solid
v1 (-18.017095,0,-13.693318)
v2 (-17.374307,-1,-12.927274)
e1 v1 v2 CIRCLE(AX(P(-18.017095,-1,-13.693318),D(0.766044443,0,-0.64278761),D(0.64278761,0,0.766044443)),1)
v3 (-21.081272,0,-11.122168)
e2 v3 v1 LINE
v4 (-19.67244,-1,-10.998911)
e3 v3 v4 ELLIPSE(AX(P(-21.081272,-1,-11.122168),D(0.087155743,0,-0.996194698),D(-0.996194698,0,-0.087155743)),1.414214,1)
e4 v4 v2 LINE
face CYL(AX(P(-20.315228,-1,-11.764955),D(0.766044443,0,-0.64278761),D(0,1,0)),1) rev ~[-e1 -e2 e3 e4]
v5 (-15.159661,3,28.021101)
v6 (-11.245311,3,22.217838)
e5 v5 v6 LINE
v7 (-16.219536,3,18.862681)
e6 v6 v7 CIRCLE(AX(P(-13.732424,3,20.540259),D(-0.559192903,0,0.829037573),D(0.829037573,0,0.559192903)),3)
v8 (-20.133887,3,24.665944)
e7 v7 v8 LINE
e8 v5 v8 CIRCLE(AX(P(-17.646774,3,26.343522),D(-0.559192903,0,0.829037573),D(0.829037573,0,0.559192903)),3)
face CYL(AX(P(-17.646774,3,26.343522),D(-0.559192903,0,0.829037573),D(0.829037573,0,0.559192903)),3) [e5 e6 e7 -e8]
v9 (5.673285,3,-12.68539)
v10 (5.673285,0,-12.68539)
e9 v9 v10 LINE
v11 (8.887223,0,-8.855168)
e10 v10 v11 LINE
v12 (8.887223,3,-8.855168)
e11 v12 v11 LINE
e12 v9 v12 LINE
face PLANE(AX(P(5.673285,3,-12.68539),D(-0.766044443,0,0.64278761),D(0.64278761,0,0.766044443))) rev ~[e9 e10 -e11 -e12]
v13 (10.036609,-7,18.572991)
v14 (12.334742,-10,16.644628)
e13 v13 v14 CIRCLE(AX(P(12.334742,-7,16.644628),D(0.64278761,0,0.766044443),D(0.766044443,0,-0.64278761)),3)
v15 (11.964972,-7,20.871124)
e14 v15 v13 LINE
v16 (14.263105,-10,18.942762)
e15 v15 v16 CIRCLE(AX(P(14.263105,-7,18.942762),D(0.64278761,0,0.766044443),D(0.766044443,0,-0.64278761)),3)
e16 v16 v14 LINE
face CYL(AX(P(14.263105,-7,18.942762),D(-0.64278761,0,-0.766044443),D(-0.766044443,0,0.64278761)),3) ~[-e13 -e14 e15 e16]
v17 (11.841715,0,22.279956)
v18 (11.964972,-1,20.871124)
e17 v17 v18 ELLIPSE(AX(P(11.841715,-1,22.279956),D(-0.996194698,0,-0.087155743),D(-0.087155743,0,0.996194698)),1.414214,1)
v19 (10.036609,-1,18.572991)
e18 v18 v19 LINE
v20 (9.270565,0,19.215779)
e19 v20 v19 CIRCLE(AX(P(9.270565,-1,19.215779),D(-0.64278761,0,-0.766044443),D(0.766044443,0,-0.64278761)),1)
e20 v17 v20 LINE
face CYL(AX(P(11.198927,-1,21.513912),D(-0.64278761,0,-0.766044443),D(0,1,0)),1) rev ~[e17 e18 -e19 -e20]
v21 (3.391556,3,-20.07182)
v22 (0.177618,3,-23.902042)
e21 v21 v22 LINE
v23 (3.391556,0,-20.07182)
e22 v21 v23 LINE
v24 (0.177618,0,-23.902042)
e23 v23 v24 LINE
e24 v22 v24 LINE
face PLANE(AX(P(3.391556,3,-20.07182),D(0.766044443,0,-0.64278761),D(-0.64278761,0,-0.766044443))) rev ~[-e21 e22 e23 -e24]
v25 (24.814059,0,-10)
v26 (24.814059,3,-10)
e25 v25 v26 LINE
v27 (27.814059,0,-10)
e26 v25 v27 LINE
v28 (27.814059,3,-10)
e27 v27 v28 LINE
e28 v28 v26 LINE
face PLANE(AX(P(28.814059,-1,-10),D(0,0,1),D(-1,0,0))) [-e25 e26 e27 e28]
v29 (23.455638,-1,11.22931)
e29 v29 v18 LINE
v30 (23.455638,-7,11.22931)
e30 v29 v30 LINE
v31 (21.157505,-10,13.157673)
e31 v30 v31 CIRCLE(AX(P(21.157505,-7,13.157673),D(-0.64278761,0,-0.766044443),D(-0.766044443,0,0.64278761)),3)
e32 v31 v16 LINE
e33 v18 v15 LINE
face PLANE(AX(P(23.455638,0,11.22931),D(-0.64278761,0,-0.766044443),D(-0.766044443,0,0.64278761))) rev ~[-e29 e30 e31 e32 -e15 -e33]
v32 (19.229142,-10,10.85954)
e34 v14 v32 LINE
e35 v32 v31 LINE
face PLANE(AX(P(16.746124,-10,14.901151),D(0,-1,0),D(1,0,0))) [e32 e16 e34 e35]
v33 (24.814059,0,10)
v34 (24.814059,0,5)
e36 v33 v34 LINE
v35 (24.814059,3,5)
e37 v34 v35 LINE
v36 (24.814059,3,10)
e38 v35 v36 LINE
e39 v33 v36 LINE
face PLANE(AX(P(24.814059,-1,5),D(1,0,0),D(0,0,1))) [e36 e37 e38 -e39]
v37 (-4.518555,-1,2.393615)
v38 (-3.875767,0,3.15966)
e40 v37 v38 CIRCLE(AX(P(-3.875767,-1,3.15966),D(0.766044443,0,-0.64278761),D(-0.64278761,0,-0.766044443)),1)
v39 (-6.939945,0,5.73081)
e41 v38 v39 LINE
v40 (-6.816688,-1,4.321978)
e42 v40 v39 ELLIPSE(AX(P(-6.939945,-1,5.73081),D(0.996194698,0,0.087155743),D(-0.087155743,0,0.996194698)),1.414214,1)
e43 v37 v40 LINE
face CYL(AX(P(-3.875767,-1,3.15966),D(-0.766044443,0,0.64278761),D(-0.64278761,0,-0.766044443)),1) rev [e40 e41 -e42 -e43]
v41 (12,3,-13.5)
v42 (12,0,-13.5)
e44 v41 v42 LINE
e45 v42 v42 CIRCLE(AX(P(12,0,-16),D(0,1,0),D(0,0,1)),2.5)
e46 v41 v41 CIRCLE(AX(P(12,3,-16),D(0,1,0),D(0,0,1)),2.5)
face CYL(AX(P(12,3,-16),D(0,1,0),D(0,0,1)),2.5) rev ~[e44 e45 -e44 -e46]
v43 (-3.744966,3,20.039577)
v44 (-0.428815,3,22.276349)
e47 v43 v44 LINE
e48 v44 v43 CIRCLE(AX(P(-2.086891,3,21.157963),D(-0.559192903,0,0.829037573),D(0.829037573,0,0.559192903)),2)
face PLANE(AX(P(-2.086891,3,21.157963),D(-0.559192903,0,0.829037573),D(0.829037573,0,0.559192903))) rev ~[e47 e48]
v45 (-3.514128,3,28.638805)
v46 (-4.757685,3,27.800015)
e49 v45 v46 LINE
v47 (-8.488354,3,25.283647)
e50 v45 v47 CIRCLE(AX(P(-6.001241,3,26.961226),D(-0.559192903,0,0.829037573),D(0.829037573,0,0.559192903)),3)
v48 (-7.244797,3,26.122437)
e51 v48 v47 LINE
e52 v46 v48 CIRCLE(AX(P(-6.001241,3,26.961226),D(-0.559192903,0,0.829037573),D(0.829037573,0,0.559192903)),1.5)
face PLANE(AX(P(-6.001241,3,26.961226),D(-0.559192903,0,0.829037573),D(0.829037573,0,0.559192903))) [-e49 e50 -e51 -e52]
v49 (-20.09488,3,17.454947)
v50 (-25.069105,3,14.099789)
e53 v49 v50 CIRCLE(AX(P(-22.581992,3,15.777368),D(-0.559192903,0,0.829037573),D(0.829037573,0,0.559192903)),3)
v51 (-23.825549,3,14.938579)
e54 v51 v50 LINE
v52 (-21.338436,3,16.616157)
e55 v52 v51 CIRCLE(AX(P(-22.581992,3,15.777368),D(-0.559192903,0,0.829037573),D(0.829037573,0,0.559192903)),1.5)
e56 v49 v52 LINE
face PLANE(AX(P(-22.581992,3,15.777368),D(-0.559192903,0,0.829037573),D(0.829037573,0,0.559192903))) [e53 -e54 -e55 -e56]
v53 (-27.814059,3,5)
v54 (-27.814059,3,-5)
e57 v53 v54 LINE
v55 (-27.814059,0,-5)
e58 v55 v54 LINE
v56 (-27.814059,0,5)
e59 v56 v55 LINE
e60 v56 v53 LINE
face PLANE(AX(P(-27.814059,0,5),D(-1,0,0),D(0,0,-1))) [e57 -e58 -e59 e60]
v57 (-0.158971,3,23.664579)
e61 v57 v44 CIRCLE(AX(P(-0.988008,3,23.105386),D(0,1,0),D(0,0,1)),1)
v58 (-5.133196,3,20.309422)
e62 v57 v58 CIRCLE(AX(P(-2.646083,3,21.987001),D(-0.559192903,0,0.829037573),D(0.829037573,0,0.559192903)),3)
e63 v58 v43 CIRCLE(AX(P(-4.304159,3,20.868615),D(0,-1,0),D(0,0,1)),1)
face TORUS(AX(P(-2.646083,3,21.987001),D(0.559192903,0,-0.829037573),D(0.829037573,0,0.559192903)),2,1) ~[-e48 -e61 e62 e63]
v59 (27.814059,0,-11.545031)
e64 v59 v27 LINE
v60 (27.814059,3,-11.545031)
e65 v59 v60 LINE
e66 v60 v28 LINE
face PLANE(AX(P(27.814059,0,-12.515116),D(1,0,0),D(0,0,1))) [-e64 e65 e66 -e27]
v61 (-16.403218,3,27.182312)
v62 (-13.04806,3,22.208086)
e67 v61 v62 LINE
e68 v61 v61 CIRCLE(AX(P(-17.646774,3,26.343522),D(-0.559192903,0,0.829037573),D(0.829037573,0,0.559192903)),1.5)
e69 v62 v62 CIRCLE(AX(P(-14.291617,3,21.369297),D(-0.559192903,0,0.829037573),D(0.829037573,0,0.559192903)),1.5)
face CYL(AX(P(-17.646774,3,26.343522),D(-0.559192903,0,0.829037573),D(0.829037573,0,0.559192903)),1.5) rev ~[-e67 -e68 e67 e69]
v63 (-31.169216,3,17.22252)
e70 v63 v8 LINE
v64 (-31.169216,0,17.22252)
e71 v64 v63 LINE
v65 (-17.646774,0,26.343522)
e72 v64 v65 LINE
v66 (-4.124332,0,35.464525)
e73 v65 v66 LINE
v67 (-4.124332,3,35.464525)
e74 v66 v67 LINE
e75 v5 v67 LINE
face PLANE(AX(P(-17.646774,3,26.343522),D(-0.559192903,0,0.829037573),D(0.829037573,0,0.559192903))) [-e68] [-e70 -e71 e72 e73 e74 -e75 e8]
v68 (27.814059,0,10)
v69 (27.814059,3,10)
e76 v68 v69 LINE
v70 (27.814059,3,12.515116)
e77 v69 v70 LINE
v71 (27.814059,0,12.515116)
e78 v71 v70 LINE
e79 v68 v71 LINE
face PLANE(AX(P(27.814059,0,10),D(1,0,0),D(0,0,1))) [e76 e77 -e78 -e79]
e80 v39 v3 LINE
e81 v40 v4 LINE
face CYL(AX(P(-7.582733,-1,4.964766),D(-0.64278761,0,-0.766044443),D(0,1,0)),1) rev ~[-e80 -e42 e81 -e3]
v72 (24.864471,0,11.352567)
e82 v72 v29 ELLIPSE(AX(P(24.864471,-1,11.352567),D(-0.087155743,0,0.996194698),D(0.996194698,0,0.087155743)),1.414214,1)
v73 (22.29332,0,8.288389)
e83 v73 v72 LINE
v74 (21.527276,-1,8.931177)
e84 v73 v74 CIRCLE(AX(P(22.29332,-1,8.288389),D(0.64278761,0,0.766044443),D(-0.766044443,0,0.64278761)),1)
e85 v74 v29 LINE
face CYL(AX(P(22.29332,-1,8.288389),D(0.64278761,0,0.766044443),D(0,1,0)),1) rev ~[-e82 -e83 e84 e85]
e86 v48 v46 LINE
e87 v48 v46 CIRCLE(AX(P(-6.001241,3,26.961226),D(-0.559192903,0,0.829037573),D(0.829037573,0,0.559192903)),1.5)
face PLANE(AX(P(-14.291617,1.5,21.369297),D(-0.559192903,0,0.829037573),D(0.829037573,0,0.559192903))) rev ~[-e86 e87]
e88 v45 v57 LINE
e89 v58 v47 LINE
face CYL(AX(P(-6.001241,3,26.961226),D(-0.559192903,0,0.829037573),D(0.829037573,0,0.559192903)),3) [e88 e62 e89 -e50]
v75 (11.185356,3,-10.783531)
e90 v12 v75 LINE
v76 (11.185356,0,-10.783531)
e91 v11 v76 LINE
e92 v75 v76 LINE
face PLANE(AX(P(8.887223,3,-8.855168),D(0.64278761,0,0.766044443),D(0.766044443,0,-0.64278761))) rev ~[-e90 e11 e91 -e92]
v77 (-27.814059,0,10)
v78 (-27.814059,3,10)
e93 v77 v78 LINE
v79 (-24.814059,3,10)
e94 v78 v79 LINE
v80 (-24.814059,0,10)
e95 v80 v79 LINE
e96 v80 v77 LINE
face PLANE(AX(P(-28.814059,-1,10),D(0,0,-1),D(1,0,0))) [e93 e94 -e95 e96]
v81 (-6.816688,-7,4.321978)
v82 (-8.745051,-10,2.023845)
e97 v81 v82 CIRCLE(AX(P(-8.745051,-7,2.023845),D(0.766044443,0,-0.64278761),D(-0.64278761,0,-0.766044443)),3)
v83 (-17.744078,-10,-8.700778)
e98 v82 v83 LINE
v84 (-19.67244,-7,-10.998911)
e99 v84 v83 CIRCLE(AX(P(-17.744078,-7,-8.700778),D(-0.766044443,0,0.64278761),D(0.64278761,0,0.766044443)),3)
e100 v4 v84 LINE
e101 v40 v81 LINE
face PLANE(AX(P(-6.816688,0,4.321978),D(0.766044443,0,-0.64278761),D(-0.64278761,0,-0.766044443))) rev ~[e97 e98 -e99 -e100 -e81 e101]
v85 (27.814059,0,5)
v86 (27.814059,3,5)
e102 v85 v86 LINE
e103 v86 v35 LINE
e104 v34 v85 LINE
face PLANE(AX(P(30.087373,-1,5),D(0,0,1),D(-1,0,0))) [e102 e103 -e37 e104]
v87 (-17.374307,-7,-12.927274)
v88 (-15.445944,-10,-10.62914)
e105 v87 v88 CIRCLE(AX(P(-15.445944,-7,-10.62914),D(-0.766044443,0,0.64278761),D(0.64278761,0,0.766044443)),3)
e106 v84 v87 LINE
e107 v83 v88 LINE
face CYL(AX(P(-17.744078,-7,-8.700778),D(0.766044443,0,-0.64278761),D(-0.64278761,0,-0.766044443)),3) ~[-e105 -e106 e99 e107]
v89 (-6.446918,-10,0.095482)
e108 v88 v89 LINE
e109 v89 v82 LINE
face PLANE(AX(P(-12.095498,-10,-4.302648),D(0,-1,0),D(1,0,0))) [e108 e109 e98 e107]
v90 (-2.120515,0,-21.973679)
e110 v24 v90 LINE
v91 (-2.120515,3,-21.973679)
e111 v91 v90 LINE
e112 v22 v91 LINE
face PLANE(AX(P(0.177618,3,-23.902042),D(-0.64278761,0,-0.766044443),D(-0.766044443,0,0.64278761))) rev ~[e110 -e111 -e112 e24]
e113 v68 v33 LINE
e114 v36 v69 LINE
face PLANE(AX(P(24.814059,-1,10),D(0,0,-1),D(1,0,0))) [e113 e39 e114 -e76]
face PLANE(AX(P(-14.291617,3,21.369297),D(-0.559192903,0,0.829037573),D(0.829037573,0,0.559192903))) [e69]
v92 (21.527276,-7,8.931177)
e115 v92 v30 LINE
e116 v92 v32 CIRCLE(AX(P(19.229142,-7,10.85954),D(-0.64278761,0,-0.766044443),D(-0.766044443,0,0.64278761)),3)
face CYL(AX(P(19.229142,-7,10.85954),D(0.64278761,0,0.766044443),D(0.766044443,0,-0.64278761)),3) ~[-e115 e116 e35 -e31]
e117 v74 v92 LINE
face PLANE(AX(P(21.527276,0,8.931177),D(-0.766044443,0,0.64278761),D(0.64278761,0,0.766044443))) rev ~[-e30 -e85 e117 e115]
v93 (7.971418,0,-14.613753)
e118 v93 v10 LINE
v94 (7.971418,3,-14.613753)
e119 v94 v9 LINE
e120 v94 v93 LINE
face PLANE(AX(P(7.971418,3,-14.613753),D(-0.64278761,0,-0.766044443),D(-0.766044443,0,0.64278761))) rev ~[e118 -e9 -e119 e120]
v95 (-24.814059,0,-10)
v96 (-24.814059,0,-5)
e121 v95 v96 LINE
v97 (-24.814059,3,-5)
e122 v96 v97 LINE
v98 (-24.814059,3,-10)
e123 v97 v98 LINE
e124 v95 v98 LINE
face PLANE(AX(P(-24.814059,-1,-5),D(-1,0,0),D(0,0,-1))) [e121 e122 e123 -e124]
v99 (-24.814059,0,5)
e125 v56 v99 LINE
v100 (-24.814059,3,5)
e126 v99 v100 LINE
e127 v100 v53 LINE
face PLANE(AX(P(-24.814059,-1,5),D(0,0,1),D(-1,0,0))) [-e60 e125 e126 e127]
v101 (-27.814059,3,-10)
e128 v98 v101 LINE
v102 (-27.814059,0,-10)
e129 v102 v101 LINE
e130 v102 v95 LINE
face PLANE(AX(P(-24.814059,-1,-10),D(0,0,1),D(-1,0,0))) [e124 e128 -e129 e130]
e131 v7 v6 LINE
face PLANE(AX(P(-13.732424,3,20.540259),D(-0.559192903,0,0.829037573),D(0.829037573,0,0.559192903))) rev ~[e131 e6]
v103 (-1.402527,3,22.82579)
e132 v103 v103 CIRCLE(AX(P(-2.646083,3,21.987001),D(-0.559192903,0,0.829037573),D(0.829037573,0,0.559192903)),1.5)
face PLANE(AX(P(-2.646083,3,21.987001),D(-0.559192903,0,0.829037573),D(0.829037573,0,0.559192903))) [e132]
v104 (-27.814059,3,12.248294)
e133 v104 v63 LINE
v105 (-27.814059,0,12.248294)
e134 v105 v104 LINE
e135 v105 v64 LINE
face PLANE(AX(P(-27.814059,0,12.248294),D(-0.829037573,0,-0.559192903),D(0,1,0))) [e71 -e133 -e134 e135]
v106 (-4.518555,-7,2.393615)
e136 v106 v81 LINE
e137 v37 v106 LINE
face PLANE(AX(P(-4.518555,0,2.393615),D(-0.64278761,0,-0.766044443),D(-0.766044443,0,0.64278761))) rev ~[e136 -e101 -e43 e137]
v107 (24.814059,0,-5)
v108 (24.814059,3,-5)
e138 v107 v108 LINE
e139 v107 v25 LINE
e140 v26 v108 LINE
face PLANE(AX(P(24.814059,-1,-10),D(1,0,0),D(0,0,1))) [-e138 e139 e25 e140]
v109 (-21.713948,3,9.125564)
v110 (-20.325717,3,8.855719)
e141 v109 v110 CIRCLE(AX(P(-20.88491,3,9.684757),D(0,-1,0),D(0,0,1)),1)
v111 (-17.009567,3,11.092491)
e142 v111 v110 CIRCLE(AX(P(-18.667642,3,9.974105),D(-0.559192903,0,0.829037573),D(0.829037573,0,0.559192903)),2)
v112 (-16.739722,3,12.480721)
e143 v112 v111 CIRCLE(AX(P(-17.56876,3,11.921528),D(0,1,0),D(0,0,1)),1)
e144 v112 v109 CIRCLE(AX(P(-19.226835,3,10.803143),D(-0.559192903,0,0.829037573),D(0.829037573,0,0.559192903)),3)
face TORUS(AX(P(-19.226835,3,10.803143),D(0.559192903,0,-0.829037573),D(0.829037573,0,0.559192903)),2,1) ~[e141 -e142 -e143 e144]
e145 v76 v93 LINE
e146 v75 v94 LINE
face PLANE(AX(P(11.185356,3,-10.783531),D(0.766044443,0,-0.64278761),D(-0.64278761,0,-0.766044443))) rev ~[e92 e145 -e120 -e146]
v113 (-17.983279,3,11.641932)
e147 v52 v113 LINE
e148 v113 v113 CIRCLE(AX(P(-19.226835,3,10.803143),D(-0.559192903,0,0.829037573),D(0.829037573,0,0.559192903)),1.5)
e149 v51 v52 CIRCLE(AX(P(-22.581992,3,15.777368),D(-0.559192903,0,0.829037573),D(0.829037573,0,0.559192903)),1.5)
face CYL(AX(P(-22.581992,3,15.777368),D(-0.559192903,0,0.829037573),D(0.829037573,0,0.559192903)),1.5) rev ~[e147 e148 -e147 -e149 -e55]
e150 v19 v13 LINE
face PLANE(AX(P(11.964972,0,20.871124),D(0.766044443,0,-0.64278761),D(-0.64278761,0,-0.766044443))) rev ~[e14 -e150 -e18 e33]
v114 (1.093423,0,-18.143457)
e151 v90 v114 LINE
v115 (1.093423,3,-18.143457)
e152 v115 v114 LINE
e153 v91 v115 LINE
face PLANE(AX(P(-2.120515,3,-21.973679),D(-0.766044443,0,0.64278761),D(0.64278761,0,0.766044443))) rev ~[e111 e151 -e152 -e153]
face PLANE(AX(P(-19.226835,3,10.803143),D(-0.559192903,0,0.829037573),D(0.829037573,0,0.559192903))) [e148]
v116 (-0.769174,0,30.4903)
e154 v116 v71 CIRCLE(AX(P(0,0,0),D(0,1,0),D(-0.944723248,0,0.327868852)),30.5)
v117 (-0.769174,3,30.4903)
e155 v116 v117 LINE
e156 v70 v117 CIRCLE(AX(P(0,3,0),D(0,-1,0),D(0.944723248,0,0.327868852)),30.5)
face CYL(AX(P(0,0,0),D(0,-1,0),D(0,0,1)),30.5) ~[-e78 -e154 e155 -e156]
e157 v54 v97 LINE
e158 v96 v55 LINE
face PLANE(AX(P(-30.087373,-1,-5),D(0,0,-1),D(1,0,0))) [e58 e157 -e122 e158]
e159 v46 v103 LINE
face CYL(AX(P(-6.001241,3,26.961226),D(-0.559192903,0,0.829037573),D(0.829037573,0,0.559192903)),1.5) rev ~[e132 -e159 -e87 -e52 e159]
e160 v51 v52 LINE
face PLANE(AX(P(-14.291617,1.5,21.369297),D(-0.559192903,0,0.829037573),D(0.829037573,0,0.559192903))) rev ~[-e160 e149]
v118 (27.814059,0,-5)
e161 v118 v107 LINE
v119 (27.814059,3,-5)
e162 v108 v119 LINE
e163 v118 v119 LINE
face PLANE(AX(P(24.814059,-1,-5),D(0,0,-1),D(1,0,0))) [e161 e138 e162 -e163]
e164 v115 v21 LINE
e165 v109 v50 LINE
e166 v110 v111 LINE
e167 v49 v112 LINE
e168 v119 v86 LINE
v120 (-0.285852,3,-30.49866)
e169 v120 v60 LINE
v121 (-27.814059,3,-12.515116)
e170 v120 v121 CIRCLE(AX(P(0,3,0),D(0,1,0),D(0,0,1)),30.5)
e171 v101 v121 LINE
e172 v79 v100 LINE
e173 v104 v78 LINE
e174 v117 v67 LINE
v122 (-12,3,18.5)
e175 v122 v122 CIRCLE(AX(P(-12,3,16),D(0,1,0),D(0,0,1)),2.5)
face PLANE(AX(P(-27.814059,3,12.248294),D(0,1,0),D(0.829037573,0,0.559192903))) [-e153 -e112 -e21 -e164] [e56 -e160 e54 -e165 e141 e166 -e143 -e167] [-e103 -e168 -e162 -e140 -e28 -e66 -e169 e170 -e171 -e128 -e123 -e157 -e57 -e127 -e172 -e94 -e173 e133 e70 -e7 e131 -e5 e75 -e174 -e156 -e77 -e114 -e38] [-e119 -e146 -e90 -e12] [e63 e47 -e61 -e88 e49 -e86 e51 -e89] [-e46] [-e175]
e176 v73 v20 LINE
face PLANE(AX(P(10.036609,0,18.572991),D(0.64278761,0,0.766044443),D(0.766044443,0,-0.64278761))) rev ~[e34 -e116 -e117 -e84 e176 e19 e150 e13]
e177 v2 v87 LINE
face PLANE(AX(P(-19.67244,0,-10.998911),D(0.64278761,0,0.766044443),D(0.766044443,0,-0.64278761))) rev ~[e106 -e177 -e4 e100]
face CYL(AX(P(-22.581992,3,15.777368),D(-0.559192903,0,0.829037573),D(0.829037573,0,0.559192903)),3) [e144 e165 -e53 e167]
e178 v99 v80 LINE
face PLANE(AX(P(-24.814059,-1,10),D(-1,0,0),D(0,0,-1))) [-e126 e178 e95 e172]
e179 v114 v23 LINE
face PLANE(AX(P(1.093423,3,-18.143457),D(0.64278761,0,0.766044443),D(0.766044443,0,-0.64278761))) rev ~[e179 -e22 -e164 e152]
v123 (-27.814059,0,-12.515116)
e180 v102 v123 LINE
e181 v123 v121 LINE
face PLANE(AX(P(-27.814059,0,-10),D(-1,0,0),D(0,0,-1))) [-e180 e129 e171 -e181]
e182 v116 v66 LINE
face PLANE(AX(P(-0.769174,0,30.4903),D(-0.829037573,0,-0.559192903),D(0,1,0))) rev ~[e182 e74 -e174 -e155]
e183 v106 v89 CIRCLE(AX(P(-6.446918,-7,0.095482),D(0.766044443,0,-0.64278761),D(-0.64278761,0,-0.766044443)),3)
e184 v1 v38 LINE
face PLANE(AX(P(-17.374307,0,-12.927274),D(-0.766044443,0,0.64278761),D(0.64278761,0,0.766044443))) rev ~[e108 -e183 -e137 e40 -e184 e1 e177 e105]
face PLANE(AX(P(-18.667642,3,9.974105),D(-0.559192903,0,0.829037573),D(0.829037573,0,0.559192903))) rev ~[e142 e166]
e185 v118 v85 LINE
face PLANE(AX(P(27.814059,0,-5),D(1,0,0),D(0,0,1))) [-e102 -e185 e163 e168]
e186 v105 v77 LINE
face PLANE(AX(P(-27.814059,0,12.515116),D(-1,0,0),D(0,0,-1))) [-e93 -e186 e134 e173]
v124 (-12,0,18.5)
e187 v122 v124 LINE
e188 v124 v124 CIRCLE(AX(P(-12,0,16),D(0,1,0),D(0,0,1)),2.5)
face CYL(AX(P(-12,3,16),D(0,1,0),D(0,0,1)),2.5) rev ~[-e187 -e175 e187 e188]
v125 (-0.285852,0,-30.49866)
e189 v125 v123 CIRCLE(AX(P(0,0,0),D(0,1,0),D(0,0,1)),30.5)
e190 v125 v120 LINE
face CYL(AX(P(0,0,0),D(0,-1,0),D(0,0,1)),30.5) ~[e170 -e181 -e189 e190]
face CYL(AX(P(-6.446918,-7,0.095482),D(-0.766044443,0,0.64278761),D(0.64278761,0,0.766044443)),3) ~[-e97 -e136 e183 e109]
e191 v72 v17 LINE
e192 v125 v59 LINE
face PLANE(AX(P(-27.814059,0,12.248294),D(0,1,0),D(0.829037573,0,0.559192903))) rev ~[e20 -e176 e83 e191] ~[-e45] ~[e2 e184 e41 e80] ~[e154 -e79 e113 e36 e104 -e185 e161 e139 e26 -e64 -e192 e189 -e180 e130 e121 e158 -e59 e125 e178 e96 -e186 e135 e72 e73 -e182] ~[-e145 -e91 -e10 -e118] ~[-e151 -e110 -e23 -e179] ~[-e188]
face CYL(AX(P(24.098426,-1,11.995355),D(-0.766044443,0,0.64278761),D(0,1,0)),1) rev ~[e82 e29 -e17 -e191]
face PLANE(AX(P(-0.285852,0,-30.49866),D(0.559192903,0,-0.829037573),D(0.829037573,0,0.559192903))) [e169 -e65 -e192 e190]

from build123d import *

# Parameters (mm, degrees)
CROQUIS1_R              = 30.5
SALIENTE_EXTRUIR1_DEPTH = 3
CORTAR_EXTRUIR3_START   = -4
CORTAR_EXTRUIR3_DEPTH   = 4
CORTAR_EXTRUIR6_DEPTH   = 10
CROQUIS10_R             = 2.5
CORTAR_EXTRUIR7_DEPTH   = 10
CORTAR_EXTRUIR8_START   = -3
CORTAR_EXTRUIR8_DEPTH   = 3
SALIENTE_EXTRUIR2_DEPTH = 10
REDONDEO1_R             = 3
REDONDEO2_R             = 1
CORTAR_EXTRUIR9_START   = -3
CORTAR_EXTRUIR9_DEPTH   = 3
CORTAR_EXTRUIR10_START  = -10
CORTAR_EXTRUIR10_DEPTH  = 10
CROQUIS19_R             = 3
SALIENTE_EXTRUIR5_DEPTH = 7
CROQUIS20_R             = 1.5
CORTAR_EXTRUIR12_DEPTH  = 6
REDONDEO3_R             = 1
CROQUIS16_W             = 32.622025527
CROQUIS16_H             = 3
SALIENTE_EXTRUIR3_DEPTH = 6
CROQUIS17_R             = 3
SALIENTE_EXTRUIR4_DEPTH = 7
CROQUIS18_R             = 1.5
CORTAR_EXTRUIR11_DEPTH  = 6


with BuildPart() as part:
    # Croquis1 → Saliente-Extruir1 (new body)
    with BuildSketch(Plane(origin=(0, 0, 0), x_dir=(1, 0, 0), z_dir=(0, 1, 0))):
        with Locations(Location((0, 0, 0), (0, 0, 270))):
            Circle(CROQUIS1_R)
    extrude(amount=SALIENTE_EXTRUIR1_DEPTH)

    # Croquis5 → Cortar-Extruir3 (cut)
    with BuildSketch(Plane(origin=(0, 3, 0), x_dir=(1, 0, 0), z_dir=(0, 1, 0)).offset(CORTAR_EXTRUIR3_START)):
        with BuildLine():
            Line((28.814059068, 5), (30.087372767, 5))
            ThreePointArc((30.087372767, 5), (29.556634924, 7.526973624), (28.814059068, 10))
            Line((28.814059068, 10), (24.814059068, 10))
            Line((24.814059068, 10), (24.814059068, 5))
            Line((24.814059068, 5), (28.814059068, 5))
        make_face()
        with BuildLine():
            Line((30.087372767, -5), (28.814059068, -5))
            Line((28.814059068, -5), (24.814059068, -5))
            Line((24.814059068, -5), (24.814059068, -10))
            Line((24.814059068, -10), (28.814059068, -10))
            ThreePointArc((28.814059068, -10), (29.556634924, -7.526973624), (30.087372767, -5))
        make_face()
        with BuildLine():
            Line((-24.814059068, 5), (-24.814059068, 10))
            Line((-24.814059068, 10), (-28.814059068, 10))
            ThreePointArc((-28.814059068, 10), (-29.556634924, 7.526973624), (-30.087372767, 5))
            Line((-30.087372767, 5), (-28.814059068, 5))
            Line((-28.814059068, 5), (-24.814059068, 5))
        make_face()
        with BuildLine():
            Line((-28.814059068, -10), (-24.814059068, -10))
            Line((-24.814059068, -10), (-24.814059068, -5))
            Line((-24.814059068, -5), (-28.814059068, -5))
            Line((-28.814059068, -5), (-30.087372767, -5))
            ThreePointArc((-30.087372767, -5), (-29.556634924, -7.526973624), (-28.814059068, -10))
        make_face()
    extrude(amount=CORTAR_EXTRUIR3_DEPTH, mode=Mode.SUBTRACT)

    # Croquis9 → Cortar-Extruir6 (cut)
    with BuildSketch(Plane(origin=(0, 3, 0), x_dir=(1, 0, 0), z_dir=(0, 1, 0))):
        Polygon((5.673284852, 12.685390231), (8.887222901, 8.855168016), (11.18535623, 10.783530845), (7.971418181, 14.613753061), align=None)
        Polygon((-2.120514915, 21.973679104), (1.093423133, 18.143456889), (3.391556462, 20.071819718), (0.177618414, 23.902041933), align=None)
    extrude(amount=-CORTAR_EXTRUIR6_DEPTH, mode=Mode.SUBTRACT)

    # Croquis10 → Cortar-Extruir7 (cut)
    with BuildSketch(Plane(origin=(0, 3, 0), x_dir=(1, 0, 0), z_dir=(0, 1, 0))):
        with Locations(Location((12, 16, 0), (0, 0, 270))):
            Circle(CROQUIS10_R)
        with Locations(Location((-12, -16, 0), (0, 0, 270))):
            Circle(CROQUIS10_R)
    extrude(amount=-CORTAR_EXTRUIR7_DEPTH, mode=Mode.SUBTRACT)

    # Croquis11 → Cortar-Extruir8 (cut)
    with BuildSketch(Plane(origin=(0, 3, 0), x_dir=(1, 0, 0), z_dir=(0, 1, 0)).offset(CORTAR_EXTRUIR8_START)):
        with BuildLine():
            ThreePointArc((-28.814059068, -10), (-28.341972277, -11.268655974), (-27.814059068, -12.515115586))
            Line((-27.814059068, -12.515115586), (-27.814059068, -10))
            Line((-27.814059068, -10), (-28.814059068, -10))
        make_face()
        with BuildLine():
            Line((-27.814059068, -5), (-27.814059068, 5))
            Line((-27.814059068, 5), (-30.087372767, 5))
            ThreePointArc((-30.087372767, 5), (-30.5, 0), (-30.087372767, -5))
            Line((-30.087372767, -5), (-27.814059068, -5))
        make_face()
        with BuildLine():
            Line((-27.814059068, 10), (-27.814059068, 12.515115586))
            ThreePointArc((-27.814059068, 12.515115586), (-28.341972277, 11.268655974), (-28.814059068, 10))
            Line((-28.814059068, 10), (-27.814059068, 10))
        make_face()
        with BuildLine():
            Line((28.814059068, -10), (27.814059068, -10))
            Line((27.814059068, -10), (27.814059068, -12.515115586))
            ThreePointArc((27.814059068, -12.515115586), (28.341972277, -11.268655974), (28.814059068, -10))
        make_face()
        with BuildLine():
            Line((30.087372767, 5), (27.814059068, 5))
            Line((27.814059068, 5), (27.814059068, -5))
            Line((27.814059068, -5), (30.087372767, -5))
            ThreePointArc((30.087372767, -5), (30.5, 0), (30.087372767, 5))
        make_face()
        with BuildLine():
            Line((27.814059068, 12.515115586), (27.814059068, 10))
            Line((27.814059068, 10), (28.814059068, 10))
            ThreePointArc((28.814059068, 10), (28.341972277, 11.268655974), (27.814059068, 12.515115586))
        make_face()
    extrude(amount=CORTAR_EXTRUIR8_DEPTH, mode=Mode.SUBTRACT)

    # Croquis13 → Saliente-Extruir2 (add)
    with BuildSketch(Plane.XZ):
        Polygon((-6.816688183, 4.321977983), (-19.672440377, -10.99891088), (-17.374307048, -12.927273709), (-4.518554854, 2.393615154), align=None)
        Polygon((21.527275636, 8.931176939), (23.455638465, 11.229310268), (11.964971818, 20.871124414), (10.036608989, 18.572991084), align=None)
    extrude(amount=SALIENTE_EXTRUIR2_DEPTH)

    # Redondeo1
    redondeo1_edges = [part.edges().sort_by_distance(p)[0] for p in [
        (-5.667621519, -10, 3.357796568),
        (-18.523373712, -10, -11.963092294),
        (22.49145705, -10, 10.080243604),
        (11.000790403, -10, 19.722057749),
    ]]
    fillet(redondeo1_edges, radius=REDONDEO1_R)

    # Redondeo2
    redondeo2_edges = [part.edges().sort_by_distance(p)[0] for p in [
        (-5.667621519, 0, 3.357796568),
        (-13.24456428, 0, -3.338466449),
        (-18.523373712, 0, -11.963092294),
        (22.49145705, 0, 10.080243604),
        (17.710305141, 0, 16.050217341),
        (11.000790403, 0, 19.722057749),
    ]]
    fillet(redondeo2_edges, radius=REDONDEO2_R)

    # Croquis14 → Cortar-Extruir9 (cut)
    with BuildSketch(Plane(origin=(0, 3, 0), x_dir=(1, 0, 0), z_dir=(0, 1, 0)).offset(CORTAR_EXTRUIR9_START)):
        with BuildLine():
            Line((-0.28585192, 30.498660441), (27.814059068, 11.545031156))
            Line((27.814059068, 11.545031156), (27.814059068, 12.515115586))
            ThreePointArc((27.814059068, 12.515115586), (16.440879495, 25.689442995), (-0.28585192, 30.498660441))
        make_face()
    extrude(amount=CORTAR_EXTRUIR9_DEPTH, mode=Mode.SUBTRACT)

    # Croquis15 → Cortar-Extruir10 (cut)
    with BuildSketch(Plane(origin=(0, 3, 0), x_dir=(1, 0, 0), z_dir=(0, 1, 0)).offset(CORTAR_EXTRUIR10_START)):
        with BuildLine():
            Line((-27.814059068, -12.24829445), (-27.814059068, -12.515115586))
            ThreePointArc((-27.814059068, -12.515115586), (-16.882746118, -25.401237834), (-0.769174213, -30.490299622))
            Line((-0.769174213, -30.490299622), (-27.814059068, -12.24829445))
        make_face()
    extrude(amount=CORTAR_EXTRUIR10_DEPTH, mode=Mode.SUBTRACT)

    # Croquis19 → Saliente-Extruir5 (add)
    with BuildSketch(Plane(origin=(-14.375575006, 0, 21.312666404), x_dir=(0.8290375725550415, 0, 0.5591929034707471), z_dir=(-0.5591929034707471, 0, 0.8290375725550415))):
        with Locations((10.101272087, 3)):
            Circle(CROQUIS19_R)
        with Locations((-9.898727913, 3)):
            Circle(CROQUIS19_R)
    extrude(amount=-SALIENTE_EXTRUIR5_DEPTH)

    # Croquis20 → Cortar-Extruir12 (cut)
    with BuildSketch(Plane(origin=(-14.375575006, 0, 21.312666404), x_dir=(0.8290375725550415, 0, 0.5591929034707471), z_dir=(-0.5591929034707471, 0, 0.8290375725550415))):
        with Locations((10.101272087, 3)):
            Circle(CROQUIS20_R)
        with Locations((-9.898727913, 3)):
            Circle(CROQUIS20_R)
    extrude(amount=-CORTAR_EXTRUIR12_DEPTH, mode=Mode.SUBTRACT)

    # Redondeo3
    redondeo3_edges = [part.edges().sort_by_distance(p)[0] for p in [
        (-2.086890591, 6, 21.157963063),
        (-18.667642042, 6, 9.974104993),
    ]]
    fillet(redondeo3_edges, radius=REDONDEO3_R)

    # Croquis16 → Saliente-Extruir3 (add)
    with BuildSketch(Plane(origin=(-14.375575006, 0, 21.312666404), x_dir=(0.8290375725550415, 0, 0.5591929034707471), z_dir=(-0.5591929034707471, 0, 0.8290375725550415))):
        with Locations((0.101272086, 1.5)):
            Rectangle(CROQUIS16_W, CROQUIS16_H)
    extrude(amount=SALIENTE_EXTRUIR3_DEPTH)

    # Croquis17 → Saliente-Extruir4 (add)
    with BuildSketch(Plane(origin=(-17.730732427, 0, 26.286891839), x_dir=(0.8290375725550415, 0, 0.5591929034707471), z_dir=(-0.5591929034707471, 0, 0.8290375725550415))):
        with Locations((0.101272087, 3)):
            Circle(CROQUIS17_R)
    extrude(amount=-SALIENTE_EXTRUIR4_DEPTH)

    # Croquis18 → Cortar-Extruir11 (cut)
    with BuildSketch(Plane(origin=(-17.730732427, 0, 26.286891839), x_dir=(0.8290375725550415, 0, 0.5591929034707471), z_dir=(-0.5591929034707471, 0, 0.8290375725550415))):
        with Locations((0.101272087, 3)):
            Circle(CROQUIS18_R)
    extrude(amount=-CORTAR_EXTRUIR11_DEPTH, mode=Mode.SUBTRACT)


solid = part.part
